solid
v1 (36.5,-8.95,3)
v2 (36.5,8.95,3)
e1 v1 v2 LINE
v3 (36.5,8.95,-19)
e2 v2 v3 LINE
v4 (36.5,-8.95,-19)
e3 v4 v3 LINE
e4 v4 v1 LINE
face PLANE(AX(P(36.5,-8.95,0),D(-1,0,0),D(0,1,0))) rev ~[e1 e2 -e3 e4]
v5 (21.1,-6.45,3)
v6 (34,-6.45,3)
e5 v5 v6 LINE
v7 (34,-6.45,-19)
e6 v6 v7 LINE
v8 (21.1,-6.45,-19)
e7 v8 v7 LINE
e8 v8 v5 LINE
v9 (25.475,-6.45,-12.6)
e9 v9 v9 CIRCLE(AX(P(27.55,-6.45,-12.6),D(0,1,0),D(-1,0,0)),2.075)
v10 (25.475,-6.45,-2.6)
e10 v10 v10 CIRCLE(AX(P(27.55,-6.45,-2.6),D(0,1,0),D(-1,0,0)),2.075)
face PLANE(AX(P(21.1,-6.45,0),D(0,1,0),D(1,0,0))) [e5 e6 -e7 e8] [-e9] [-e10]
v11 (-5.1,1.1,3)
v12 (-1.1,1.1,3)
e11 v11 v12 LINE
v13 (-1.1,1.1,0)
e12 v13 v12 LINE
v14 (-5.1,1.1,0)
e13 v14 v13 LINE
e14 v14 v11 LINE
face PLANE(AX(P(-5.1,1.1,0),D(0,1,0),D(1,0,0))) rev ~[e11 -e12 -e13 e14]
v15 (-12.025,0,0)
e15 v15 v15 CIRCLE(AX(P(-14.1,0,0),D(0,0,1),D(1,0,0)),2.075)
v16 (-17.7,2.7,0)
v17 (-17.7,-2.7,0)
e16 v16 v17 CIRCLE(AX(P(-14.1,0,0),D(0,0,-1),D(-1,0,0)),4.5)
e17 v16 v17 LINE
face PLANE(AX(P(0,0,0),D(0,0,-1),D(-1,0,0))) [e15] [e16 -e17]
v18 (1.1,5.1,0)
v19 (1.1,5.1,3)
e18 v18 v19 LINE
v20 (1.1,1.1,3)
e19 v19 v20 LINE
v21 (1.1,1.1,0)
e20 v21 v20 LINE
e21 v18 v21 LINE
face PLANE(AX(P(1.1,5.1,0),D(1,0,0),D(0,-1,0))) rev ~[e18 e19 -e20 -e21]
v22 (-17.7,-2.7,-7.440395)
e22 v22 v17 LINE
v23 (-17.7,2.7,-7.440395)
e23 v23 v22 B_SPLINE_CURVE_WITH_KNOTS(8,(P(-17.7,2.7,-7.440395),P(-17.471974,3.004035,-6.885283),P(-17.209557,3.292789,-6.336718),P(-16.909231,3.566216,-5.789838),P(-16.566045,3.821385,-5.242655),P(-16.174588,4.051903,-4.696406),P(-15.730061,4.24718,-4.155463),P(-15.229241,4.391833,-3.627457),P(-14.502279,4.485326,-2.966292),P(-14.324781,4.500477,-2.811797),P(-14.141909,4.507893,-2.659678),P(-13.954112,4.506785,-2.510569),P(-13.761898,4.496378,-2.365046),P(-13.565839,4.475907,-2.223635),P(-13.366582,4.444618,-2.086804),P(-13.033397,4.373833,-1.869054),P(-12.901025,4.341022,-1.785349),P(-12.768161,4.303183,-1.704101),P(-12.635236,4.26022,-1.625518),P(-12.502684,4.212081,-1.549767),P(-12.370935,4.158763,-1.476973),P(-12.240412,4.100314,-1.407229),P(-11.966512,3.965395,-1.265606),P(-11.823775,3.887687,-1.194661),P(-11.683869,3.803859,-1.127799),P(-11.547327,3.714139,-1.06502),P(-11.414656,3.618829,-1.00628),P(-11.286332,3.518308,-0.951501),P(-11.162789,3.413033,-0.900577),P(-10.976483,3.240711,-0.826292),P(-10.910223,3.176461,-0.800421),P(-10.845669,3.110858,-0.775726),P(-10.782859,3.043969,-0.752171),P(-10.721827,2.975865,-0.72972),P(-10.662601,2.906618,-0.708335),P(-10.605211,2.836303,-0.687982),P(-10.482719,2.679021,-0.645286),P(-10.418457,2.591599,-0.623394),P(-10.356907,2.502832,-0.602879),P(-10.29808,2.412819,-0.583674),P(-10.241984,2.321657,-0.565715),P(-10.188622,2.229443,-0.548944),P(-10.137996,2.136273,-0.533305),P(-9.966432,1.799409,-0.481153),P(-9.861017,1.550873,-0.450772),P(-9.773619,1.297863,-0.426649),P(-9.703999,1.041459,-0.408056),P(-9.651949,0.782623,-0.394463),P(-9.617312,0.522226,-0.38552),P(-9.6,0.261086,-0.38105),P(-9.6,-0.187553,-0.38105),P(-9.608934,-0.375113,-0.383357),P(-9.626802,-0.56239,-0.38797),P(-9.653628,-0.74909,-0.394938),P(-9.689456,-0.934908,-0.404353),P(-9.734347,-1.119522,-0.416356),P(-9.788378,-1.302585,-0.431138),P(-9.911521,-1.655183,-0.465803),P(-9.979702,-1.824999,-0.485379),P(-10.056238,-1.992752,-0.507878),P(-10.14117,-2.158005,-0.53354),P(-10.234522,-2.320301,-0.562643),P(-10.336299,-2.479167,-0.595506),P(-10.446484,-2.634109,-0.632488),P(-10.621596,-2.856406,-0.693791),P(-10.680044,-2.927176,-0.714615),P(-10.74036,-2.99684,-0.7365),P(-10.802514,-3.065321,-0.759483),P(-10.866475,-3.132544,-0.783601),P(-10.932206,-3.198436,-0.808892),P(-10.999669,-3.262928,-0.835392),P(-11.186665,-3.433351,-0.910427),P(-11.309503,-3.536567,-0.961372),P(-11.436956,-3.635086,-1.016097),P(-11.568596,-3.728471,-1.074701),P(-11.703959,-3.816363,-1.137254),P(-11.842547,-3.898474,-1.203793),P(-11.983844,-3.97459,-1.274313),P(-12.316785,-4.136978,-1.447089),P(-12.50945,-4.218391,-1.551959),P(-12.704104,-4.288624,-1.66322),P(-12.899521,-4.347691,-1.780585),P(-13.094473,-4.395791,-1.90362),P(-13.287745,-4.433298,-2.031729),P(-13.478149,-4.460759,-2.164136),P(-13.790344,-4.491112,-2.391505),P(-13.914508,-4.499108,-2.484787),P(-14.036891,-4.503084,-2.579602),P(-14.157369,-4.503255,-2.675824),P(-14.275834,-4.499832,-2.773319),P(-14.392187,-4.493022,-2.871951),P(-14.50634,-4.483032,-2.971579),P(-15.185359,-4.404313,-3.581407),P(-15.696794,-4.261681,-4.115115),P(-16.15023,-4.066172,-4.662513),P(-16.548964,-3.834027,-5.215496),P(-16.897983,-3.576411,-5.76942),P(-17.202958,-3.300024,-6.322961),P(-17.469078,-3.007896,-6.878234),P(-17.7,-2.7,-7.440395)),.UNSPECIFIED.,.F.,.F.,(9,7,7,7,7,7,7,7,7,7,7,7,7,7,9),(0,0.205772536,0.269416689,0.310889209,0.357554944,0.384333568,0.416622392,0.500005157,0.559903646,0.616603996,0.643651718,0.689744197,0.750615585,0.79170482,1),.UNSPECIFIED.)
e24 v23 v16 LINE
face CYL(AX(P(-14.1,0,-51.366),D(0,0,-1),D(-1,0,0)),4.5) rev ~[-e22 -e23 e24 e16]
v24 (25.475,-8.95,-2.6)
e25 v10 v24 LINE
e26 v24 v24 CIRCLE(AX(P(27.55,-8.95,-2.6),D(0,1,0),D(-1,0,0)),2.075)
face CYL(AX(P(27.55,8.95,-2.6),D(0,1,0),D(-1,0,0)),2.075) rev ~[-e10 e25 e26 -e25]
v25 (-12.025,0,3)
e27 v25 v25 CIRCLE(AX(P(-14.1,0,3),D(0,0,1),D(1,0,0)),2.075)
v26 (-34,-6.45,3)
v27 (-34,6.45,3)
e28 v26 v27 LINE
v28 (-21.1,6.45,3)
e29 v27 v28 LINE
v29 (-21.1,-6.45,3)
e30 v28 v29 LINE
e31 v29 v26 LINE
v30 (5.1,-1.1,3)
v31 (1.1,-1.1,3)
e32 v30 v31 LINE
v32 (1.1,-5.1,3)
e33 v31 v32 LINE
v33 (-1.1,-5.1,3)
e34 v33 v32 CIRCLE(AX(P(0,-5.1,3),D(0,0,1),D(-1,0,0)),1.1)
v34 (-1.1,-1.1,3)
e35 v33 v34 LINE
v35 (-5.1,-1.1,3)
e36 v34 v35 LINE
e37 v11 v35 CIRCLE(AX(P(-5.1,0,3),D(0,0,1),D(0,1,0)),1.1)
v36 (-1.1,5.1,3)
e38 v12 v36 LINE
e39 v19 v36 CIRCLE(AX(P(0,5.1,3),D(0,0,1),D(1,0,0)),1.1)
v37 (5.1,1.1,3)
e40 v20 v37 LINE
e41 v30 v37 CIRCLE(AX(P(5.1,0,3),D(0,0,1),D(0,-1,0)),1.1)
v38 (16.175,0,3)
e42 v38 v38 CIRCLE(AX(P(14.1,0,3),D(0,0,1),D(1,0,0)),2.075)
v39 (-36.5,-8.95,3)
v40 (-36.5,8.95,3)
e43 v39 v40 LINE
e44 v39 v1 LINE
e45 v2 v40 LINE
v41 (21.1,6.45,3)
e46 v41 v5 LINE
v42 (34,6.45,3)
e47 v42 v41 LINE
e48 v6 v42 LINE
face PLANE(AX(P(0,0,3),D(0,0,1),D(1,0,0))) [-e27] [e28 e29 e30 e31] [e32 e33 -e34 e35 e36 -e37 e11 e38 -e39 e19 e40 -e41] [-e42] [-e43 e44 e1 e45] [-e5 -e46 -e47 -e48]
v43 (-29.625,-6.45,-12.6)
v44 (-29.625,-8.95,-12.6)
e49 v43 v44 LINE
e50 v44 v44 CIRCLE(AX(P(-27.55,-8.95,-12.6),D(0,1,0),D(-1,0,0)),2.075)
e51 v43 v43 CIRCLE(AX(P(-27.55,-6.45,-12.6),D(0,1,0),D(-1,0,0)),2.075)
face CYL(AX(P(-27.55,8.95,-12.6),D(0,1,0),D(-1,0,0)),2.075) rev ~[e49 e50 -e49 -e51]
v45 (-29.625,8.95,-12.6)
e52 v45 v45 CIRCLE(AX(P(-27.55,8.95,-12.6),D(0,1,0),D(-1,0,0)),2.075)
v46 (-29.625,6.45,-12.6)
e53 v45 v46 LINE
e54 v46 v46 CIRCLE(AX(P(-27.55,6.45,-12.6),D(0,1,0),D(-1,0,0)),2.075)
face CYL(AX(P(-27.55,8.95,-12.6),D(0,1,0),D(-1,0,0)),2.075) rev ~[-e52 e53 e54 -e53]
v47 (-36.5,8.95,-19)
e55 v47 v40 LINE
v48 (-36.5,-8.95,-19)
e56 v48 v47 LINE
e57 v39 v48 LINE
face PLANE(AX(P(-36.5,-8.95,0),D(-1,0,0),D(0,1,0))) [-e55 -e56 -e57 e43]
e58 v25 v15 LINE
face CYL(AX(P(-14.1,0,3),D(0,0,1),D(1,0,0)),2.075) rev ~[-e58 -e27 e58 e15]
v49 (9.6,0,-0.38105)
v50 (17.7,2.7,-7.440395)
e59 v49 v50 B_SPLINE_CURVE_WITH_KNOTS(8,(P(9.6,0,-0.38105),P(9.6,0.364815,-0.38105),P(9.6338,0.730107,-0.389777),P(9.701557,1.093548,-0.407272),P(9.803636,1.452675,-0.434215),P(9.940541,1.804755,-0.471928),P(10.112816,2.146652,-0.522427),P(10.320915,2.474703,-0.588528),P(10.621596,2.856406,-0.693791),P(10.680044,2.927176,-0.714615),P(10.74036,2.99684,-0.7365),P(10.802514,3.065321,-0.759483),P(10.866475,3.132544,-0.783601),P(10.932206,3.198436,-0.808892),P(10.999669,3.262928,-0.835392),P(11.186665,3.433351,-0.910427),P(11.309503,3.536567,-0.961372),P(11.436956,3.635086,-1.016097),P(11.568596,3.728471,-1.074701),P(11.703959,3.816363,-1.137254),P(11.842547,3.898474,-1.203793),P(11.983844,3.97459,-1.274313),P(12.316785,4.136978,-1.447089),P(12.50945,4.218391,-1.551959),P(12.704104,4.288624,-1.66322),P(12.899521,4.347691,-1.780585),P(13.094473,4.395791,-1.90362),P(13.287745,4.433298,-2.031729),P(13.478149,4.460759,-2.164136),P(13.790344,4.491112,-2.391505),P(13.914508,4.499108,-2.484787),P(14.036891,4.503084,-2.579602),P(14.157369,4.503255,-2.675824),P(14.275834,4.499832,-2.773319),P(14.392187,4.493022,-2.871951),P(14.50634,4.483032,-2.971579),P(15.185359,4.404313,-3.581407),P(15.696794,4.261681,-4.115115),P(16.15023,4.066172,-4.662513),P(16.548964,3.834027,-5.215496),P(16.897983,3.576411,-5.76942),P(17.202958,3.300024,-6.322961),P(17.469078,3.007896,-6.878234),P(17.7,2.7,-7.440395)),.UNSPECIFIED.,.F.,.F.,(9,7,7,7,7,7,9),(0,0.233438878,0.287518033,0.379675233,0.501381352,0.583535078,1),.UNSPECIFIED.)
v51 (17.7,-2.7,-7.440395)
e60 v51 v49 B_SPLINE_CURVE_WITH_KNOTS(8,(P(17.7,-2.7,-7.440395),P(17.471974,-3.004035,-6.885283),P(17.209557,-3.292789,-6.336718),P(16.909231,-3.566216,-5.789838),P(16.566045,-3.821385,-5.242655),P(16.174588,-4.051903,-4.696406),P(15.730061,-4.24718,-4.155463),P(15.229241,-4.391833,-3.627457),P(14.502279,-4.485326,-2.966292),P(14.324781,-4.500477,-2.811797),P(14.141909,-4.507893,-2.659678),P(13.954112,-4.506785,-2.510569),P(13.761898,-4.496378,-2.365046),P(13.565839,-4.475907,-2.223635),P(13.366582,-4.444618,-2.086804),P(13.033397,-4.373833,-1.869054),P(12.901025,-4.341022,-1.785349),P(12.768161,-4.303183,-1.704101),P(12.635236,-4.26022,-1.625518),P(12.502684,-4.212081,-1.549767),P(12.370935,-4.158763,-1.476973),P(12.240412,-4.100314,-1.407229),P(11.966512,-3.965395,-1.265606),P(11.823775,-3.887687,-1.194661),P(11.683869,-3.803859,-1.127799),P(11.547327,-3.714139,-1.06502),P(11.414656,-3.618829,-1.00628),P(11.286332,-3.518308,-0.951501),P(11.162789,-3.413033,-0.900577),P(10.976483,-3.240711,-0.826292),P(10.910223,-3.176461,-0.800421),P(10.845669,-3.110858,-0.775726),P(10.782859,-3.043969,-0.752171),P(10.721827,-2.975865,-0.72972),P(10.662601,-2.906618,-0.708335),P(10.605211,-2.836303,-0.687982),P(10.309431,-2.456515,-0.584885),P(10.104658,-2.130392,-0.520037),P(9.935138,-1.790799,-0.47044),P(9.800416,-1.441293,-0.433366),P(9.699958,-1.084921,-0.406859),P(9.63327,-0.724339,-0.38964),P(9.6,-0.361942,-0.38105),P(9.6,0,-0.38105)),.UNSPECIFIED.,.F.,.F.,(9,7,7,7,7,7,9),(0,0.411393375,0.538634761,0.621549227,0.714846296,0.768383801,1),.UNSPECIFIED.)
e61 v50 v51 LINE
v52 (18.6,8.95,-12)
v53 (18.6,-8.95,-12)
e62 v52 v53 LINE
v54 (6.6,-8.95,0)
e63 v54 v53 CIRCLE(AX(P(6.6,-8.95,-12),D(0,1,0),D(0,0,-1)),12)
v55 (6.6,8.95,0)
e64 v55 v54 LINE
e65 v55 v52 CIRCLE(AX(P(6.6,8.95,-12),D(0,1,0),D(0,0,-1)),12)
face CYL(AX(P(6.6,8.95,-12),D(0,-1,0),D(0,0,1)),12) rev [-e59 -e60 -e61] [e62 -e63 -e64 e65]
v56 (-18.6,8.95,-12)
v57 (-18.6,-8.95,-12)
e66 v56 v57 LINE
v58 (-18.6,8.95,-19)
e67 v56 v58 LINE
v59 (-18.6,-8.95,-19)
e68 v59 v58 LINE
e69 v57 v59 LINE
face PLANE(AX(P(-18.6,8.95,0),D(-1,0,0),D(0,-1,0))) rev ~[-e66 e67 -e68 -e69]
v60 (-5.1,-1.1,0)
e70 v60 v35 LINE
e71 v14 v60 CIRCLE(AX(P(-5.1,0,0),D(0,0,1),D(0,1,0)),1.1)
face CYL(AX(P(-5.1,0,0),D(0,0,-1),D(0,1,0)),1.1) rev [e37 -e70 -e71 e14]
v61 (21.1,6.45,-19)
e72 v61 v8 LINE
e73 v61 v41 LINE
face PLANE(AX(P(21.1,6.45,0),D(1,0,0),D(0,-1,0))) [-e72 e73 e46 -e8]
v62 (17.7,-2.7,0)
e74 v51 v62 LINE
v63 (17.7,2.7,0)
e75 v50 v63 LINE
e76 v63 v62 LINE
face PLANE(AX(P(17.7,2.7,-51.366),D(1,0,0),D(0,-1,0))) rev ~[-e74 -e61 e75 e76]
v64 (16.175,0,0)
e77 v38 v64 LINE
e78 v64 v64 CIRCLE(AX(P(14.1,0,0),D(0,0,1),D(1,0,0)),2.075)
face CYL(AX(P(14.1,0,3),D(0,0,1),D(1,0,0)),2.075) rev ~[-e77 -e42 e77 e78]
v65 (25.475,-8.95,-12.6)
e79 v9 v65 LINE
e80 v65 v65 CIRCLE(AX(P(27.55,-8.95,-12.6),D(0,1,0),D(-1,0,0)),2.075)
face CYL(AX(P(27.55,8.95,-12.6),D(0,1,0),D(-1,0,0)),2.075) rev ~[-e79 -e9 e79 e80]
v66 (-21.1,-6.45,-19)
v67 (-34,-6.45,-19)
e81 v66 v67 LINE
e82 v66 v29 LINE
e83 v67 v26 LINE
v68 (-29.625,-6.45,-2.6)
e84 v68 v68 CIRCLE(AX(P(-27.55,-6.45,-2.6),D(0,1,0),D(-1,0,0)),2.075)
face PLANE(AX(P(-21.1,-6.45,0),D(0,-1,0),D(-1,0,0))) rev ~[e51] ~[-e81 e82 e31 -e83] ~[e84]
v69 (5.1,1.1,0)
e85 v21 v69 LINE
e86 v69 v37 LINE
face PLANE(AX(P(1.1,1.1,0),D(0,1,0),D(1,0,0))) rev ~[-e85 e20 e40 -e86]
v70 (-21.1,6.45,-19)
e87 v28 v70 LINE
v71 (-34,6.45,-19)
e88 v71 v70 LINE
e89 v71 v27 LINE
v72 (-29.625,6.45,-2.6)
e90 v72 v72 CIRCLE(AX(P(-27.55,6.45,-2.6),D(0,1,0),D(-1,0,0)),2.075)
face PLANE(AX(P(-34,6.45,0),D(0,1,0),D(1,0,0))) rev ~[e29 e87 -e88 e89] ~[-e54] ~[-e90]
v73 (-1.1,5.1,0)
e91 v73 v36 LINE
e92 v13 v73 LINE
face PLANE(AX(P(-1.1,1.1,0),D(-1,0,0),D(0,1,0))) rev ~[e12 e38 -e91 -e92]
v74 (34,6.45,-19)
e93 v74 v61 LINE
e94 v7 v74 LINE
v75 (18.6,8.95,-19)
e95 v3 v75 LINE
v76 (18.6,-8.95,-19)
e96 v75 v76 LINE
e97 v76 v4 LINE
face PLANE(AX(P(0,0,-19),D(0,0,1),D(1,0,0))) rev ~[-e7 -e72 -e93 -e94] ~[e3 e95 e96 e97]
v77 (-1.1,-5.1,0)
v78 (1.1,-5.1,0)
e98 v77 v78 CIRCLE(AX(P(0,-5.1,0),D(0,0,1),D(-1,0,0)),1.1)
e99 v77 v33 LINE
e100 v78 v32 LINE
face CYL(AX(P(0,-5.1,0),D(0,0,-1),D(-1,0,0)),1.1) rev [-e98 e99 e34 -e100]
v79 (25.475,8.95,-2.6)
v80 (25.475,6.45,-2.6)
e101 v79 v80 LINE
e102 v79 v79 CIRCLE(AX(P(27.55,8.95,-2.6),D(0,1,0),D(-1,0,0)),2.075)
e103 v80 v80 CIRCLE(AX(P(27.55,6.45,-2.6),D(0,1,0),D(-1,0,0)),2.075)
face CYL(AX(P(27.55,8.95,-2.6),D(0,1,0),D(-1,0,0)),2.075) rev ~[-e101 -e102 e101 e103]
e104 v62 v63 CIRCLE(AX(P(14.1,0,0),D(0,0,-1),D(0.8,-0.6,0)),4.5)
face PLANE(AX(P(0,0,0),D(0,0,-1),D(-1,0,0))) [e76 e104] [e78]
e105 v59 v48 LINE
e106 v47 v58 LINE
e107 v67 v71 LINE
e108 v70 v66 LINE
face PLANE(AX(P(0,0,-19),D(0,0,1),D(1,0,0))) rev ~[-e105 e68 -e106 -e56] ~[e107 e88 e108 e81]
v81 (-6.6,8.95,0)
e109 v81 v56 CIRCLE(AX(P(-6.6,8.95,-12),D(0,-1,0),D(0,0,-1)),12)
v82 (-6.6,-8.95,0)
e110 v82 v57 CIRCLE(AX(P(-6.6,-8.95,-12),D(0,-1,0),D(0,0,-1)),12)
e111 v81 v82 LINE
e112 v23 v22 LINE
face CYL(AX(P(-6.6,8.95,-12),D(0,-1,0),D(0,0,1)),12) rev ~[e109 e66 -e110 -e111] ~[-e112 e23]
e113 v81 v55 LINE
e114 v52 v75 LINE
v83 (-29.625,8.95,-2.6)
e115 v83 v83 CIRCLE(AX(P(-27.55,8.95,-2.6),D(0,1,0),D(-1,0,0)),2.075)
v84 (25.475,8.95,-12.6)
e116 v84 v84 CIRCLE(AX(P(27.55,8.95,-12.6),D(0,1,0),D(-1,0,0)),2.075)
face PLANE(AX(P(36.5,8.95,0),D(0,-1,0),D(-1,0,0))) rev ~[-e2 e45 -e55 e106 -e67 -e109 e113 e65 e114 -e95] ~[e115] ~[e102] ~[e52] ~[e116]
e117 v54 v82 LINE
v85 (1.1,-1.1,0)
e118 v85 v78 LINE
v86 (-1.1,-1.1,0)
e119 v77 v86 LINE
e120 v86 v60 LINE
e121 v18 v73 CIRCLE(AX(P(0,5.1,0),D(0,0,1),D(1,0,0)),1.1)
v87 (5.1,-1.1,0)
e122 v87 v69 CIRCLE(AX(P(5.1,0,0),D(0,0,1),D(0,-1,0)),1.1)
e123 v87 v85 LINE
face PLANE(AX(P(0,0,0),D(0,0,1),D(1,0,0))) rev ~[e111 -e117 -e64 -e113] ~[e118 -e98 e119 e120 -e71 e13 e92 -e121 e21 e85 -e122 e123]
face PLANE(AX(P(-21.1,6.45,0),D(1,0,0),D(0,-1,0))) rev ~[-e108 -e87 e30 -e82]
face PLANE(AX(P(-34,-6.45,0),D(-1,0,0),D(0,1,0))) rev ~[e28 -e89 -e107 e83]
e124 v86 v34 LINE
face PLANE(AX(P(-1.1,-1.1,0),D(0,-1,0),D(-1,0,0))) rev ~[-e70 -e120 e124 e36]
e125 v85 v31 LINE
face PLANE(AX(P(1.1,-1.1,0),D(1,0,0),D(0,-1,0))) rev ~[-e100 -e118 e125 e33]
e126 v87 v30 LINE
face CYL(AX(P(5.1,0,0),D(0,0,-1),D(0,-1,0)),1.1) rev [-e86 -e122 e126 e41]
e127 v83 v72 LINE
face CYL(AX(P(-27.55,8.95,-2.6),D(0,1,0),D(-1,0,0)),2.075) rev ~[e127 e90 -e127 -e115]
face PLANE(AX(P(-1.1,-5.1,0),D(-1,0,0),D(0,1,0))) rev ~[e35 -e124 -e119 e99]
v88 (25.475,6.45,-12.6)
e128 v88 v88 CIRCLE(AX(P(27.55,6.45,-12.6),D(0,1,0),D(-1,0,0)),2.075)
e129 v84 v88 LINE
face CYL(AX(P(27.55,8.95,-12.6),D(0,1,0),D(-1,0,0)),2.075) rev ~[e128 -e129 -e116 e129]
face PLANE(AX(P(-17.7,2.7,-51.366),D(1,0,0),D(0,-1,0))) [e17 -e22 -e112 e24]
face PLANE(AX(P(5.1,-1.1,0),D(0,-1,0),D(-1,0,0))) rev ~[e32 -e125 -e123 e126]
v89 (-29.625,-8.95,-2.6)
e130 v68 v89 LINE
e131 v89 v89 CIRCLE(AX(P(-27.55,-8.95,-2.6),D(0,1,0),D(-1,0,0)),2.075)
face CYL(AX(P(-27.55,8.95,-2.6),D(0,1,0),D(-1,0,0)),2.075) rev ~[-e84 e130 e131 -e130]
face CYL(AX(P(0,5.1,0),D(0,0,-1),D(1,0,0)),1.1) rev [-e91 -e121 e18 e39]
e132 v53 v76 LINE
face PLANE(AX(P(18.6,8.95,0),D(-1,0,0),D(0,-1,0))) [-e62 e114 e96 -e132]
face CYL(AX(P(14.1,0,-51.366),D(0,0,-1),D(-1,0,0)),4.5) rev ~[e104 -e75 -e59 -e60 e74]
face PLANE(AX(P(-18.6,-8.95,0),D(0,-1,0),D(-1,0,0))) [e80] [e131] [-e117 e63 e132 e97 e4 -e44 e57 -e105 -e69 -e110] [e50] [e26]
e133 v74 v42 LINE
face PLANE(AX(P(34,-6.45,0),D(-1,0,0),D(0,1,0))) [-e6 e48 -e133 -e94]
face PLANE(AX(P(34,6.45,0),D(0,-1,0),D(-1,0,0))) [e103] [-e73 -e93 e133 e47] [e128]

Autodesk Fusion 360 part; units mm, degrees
sketch "Sketch1" plane through (0, 0, 0) normal (0, 0, 1) x (1, 0, 0)
  line L0 (-1.1, 1.1) -> (-1.1, 5.1)
  arc A0 (1.1, 5.1) -> (-1.1, 5.1) centre (0, 5.1) ccw
  line L1 (1.1, 5.1) -> (1.1, 1.1)
  line L2 (-1.1, 5.1) -> (1.1, 5.1) construction
  line L3 (1.1, 1.1) -> (-1.1, 1.1) construction
  line L4 (-1.1, 1.1) -> (-1.1, -1.1) construction
  line L5 (-1.1, -1.1) -> (1.1, -1.1) construction
  line L6 (1.1, -1.1) -> (1.1, 1.1) construction
  line L7 (1.1, 1.1) -> (-1.1, -1.1) construction
  line L8 (-1.1, 1.1) -> (1.1, -1.1) construction
  line L9 (-1.1, -1.1) -> (-5.1, -1.1)
  arc A1 (-5.1, 1.1) -> (-5.1, -1.1) centre (-5.1, 0) ccw
  line L10 (-5.1, 1.1) -> (-1.1, 1.1)
  line L11 (1.1, -1.1) -> (1.1, -5.1)
  arc A2 (-1.1, -5.1) -> (1.1, -5.1) centre (0, -5.1) ccw
  line L12 (-1.1, -5.1) -> (-1.1, -1.1)
  line L13 (1.1, 1.1) -> (5.1, 1.1)
  arc A3 (5.1, -1.1) -> (5.1, 1.1) centre (5.1, 0) ccw
  line L14 (5.1, -1.1) -> (1.1, -1.1)
  line L15 (7.1, 7.1) -> (-7.1, 7.1)
  line L16 (-7.1, 7.1) -> (-7.1, -7.1)
  line L17 (-7.1, -7.1) -> (7.1, -7.1)
  line L18 (7.1, -7.1) -> (7.1, 7.1)
  line L19 (7.1, 7.1) -> (-7.1, -7.1) construction
  line L20 (-7.1, 7.1) -> (7.1, -7.1) construction
  dimension "d2" = 2.2
  dimension "d3" = 2.2
  dimension "d4" = 2.2
  dimension "d5" = 4
  dimension "d7" = 360
  dimension "d37" = 2
extrude "Extrude1" add sketch "Sketch1" along normal blind 3
sketch "Sketch2" plane through (0, 0, 0) normal (0, 0, 1) x (1, 0, 0)
  line L0 (-33.9, 6.35) -> (-21.2, 6.35) construction
  line L1 (-21.2, 6.35) -> (-21.2, -6.35) construction
  line L2 (-21.2, -6.35) -> (-33.9, -6.35) construction
  line L3 (-33.9, -6.35) -> (-33.9, 6.35) construction
  line L4 (21.2, 6.35) -> (33.9, 6.35) construction
  line L5 (33.9, 6.35) -> (33.9, -6.35) construction
  line L6 (33.9, -6.35) -> (21.2, -6.35) construction
  line L7 (21.2, -6.35) -> (21.2, 6.35) construction
  line L8 (-21.2, 0) -> (21.2, 0) construction
  line L9 (-21.1, -6.45) -> (-34, -6.45)
  line L10 (-34, -6.45) -> (-34, 6.45)
  line L11 (-34, 6.45) -> (-21.1, 6.45)
  line L12 (-21.1, 6.45) -> (-21.1, -6.45)
  line L13 (-18.6, -8.95) -> (-36.5, -8.95)
  line L14 (-36.5, -8.95) -> (-36.5, 8.95)
  line L15 (-36.5, 8.95) -> (-18.6, 8.95)
  line L16 (-18.6, 8.95) -> (-18.6, -8.95)
  line L17 (0, 2.5) -> (0, 20)
  line L18 (34, -6.45) -> (34, 6.45)
  line L19 (34, 6.45) -> (21.1, 6.45)
  line L20 (21.1, 6.45) -> (21.1, -6.45)
  line L21 (21.1, -6.45) -> (34, -6.45)
  line L22 (36.5, -8.95) -> (36.5, 8.95)
  line L23 (36.5, 8.95) -> (18.6, 8.95)
  line L24 (18.6, -8.95) -> (36.5, -8.95)
  line L25 (18.6, 8.95) -> (18.6, -8.95)
  line L26 (-18.6, -2.6) -> (-18.6, -8.95)
  line L27 (-18.6, 8.95) -> (18.6, 8.95)
  line L28 (18.6, -8.95) -> (-18.6, -8.95)
  line L29 (-7.1, 7.1) -> (-7.1, -7.1)
  line L30 (-7.1, -7.1) -> (7.1, -7.1)
  line L31 (7.1, -7.1) -> (7.1, 7.1)
  line L32 (7.1, 7.1) -> (-7.1, 7.1)
  dimension "d18" = 12.7
  dimension "d19" = 12.7
  dimension "d20" = 42.4
  dimension "d23" = -2.5
extrude "Extrude2" add sketch "Sketch2" along normal blind 3
extrude "Extrude3" add sketch "Sketch2" against normal blind 19 contours L13 L14 L15 L16 L26 | L22 L23 L24 L25
fillet "Fillet1" radius 12 2 edges at (-18.6, 0, 0) (18.6, 0, 0)
sketch "Sketch3" plane through (0, 8.95, 0) normal (0, 1, 0) x (-1, 0, 0)
  line L0 (36.5, -19) -> (36.5, 3)
  line L1 (36.5, 3) -> (-36.5, 3)
  line L2 (18.6, -12) -> (18.6, -19)
  line L3 (-36.5, -19) -> (-18.6, -19)
  circle A0 centre (-27.55, -12.6) radius 2.075
  circle A1 centre (-27.55, -2.6) radius 2.075
  line L4 (-27.55, -19) -> (-27.55, 3) construction
  line L5 (-36.5, 3) -> (-36.5, -19)
  line L6 (-18.6, -19) -> (-18.6, -12)
  line L7 (18.6, -19) -> (36.5, -19)
  line L8 (0, 1.75) -> (0, 22.5)
  circle A2 centre (27.55, -12.6) radius 2.075
  circle A3 centre (27.55, -2.6) radius 2.075
  dimension "d32" = 4.15
  dimension "d33" = 10
  dimension "d34" = 5.6
extrude "Extrude4" cut sketch "Sketch3" against normal blind 17.9
sketch "Sketch4" plane through (0, 0, 3) normal (0, 0, 1) x (1, 0, 0)
  line L0 (36.5, -8.95) -> (36.5, 8.95)
  line L1 (36.5, 8.95) -> (-36.5, 8.95)
  line L2 (-36.5, 8.95) -> (-36.5, -8.95)
  line L3 (-36.5, -8.95) -> (36.5, -8.95)
  line L4 (-34, 6.45) -> (-21.1, 6.45)
  line L5 (-21.1, 6.45) -> (-21.1, -6.45)
  line L6 (-21.1, -6.45) -> (-34, -6.45)
  line L7 (-34, -6.45) -> (-34, 6.45)
  line L8 (34, -6.45) -> (21.1, -6.45)
  line L9 (21.1, -6.45) -> (21.1, 6.45)
  line L10 (21.1, 6.45) -> (34, 6.45)
  line L11 (34, 6.45) -> (34, -6.45)
  arc A0 (1.1, 5.1) -> (-1.1, 5.1) centre (0, 5.1) ccw
  line L12 (1.1, 5.1) -> (1.1, 1.1)
  line L13 (1.1, 1.1) -> (5.1, 1.1)
  arc A1 (5.1, -1.1) -> (5.1, 1.1) centre (5.1, 0) ccw
  line L14 (5.1, -1.1) -> (1.1, -1.1)
  line L15 (1.1, -1.1) -> (1.1, -5.1)
  arc A2 (-1.1, -5.1) -> (1.1, -5.1) centre (0, -5.1) ccw
  line L16 (-1.1, -5.1) -> (-1.1, -1.1)
  line L17 (-1.1, -1.1) -> (-5.1, -1.1)
  arc A3 (-5.1, 1.1) -> (-5.1, -1.1) centre (-5.1, 0) ccw
  line L18 (-5.1, 1.1) -> (-1.1, 1.1)
  line L19 (-1.1, 1.1) -> (-1.1, 5.1)
  line L20 (-21.1, 6.45) -> (-21.1, -6.45)
  line L21 (21.1, -6.45) -> (21.1, 6.45)
  line L22 (-21.1, 0) -> (21.1, 0) construction
  circle A4 centre (-14.1, 0) radius 2.075
  line L23 (0, 2.5) -> (0, 20)
  circle A5 centre (14.1, 0) radius 2.075
  dimension "d38" = 7
  dimension "d39" = 4.15
extrude "Extrude5" cut sketch "Sketch4" against normal blind 22 contours A4 | A5
ref_plane "WorkPlane1" through (0, 0, -6) normal (0, 0, -1) x (-1, 0, 0)
sketch "Sketch5" plane through (0, 0, -6) normal (0, 0, -1) x (-1, 0, 0)
  line L0 (-21.1, 6.45) -> (-21.1, -6.45)
  line L1 (21.1, -6.45) -> (21.1, 6.45)
  line L2 (-21.1, 0) -> (21.1, 0) construction
  circle A0 centre (-14.1, 0) radius 4.5
  line L3 (0, 1.75) -> (0, 22.5)
  circle A1 centre (14.1, 0) radius 4.5
  line L4 (-17.7, 2.7) -> (-17.7, -2.7)
  line L5 (17.7, 2.7) -> (17.7, -2.7)
  dimension "d43" = 9
  dimension "d44" = 7
  dimension "d49" = 3.6
extrude "Extrude6" cut sketch "Sketch5" along normal blind -6 and the other way blind -45.366 contours A0 L4 | A1 L5 picked at (-15.387, 1.0056) picked at (14.9987, -0.474)
equation "mounting_size = 2.2 mm"
equation "d2 = mounting_size"
equation "d3 = mounting_size"
equation "d4 = mounting_size"
equation "d21 = -tolerance_bar"
equation "tolerance_bar = 0.1 mm"
equation "d30 = 13 mm - ( 4 / 4 ) * 1 mm"
equation "tolerance_hole = 0.15 mm"
equation "d32 = 4 mm + tolerance_hole"
equation "d39 = 4 mm + tolerance_hole"
equation "d49 = ( 7 / 2 ) * 1 mm + 0.1 mm"
